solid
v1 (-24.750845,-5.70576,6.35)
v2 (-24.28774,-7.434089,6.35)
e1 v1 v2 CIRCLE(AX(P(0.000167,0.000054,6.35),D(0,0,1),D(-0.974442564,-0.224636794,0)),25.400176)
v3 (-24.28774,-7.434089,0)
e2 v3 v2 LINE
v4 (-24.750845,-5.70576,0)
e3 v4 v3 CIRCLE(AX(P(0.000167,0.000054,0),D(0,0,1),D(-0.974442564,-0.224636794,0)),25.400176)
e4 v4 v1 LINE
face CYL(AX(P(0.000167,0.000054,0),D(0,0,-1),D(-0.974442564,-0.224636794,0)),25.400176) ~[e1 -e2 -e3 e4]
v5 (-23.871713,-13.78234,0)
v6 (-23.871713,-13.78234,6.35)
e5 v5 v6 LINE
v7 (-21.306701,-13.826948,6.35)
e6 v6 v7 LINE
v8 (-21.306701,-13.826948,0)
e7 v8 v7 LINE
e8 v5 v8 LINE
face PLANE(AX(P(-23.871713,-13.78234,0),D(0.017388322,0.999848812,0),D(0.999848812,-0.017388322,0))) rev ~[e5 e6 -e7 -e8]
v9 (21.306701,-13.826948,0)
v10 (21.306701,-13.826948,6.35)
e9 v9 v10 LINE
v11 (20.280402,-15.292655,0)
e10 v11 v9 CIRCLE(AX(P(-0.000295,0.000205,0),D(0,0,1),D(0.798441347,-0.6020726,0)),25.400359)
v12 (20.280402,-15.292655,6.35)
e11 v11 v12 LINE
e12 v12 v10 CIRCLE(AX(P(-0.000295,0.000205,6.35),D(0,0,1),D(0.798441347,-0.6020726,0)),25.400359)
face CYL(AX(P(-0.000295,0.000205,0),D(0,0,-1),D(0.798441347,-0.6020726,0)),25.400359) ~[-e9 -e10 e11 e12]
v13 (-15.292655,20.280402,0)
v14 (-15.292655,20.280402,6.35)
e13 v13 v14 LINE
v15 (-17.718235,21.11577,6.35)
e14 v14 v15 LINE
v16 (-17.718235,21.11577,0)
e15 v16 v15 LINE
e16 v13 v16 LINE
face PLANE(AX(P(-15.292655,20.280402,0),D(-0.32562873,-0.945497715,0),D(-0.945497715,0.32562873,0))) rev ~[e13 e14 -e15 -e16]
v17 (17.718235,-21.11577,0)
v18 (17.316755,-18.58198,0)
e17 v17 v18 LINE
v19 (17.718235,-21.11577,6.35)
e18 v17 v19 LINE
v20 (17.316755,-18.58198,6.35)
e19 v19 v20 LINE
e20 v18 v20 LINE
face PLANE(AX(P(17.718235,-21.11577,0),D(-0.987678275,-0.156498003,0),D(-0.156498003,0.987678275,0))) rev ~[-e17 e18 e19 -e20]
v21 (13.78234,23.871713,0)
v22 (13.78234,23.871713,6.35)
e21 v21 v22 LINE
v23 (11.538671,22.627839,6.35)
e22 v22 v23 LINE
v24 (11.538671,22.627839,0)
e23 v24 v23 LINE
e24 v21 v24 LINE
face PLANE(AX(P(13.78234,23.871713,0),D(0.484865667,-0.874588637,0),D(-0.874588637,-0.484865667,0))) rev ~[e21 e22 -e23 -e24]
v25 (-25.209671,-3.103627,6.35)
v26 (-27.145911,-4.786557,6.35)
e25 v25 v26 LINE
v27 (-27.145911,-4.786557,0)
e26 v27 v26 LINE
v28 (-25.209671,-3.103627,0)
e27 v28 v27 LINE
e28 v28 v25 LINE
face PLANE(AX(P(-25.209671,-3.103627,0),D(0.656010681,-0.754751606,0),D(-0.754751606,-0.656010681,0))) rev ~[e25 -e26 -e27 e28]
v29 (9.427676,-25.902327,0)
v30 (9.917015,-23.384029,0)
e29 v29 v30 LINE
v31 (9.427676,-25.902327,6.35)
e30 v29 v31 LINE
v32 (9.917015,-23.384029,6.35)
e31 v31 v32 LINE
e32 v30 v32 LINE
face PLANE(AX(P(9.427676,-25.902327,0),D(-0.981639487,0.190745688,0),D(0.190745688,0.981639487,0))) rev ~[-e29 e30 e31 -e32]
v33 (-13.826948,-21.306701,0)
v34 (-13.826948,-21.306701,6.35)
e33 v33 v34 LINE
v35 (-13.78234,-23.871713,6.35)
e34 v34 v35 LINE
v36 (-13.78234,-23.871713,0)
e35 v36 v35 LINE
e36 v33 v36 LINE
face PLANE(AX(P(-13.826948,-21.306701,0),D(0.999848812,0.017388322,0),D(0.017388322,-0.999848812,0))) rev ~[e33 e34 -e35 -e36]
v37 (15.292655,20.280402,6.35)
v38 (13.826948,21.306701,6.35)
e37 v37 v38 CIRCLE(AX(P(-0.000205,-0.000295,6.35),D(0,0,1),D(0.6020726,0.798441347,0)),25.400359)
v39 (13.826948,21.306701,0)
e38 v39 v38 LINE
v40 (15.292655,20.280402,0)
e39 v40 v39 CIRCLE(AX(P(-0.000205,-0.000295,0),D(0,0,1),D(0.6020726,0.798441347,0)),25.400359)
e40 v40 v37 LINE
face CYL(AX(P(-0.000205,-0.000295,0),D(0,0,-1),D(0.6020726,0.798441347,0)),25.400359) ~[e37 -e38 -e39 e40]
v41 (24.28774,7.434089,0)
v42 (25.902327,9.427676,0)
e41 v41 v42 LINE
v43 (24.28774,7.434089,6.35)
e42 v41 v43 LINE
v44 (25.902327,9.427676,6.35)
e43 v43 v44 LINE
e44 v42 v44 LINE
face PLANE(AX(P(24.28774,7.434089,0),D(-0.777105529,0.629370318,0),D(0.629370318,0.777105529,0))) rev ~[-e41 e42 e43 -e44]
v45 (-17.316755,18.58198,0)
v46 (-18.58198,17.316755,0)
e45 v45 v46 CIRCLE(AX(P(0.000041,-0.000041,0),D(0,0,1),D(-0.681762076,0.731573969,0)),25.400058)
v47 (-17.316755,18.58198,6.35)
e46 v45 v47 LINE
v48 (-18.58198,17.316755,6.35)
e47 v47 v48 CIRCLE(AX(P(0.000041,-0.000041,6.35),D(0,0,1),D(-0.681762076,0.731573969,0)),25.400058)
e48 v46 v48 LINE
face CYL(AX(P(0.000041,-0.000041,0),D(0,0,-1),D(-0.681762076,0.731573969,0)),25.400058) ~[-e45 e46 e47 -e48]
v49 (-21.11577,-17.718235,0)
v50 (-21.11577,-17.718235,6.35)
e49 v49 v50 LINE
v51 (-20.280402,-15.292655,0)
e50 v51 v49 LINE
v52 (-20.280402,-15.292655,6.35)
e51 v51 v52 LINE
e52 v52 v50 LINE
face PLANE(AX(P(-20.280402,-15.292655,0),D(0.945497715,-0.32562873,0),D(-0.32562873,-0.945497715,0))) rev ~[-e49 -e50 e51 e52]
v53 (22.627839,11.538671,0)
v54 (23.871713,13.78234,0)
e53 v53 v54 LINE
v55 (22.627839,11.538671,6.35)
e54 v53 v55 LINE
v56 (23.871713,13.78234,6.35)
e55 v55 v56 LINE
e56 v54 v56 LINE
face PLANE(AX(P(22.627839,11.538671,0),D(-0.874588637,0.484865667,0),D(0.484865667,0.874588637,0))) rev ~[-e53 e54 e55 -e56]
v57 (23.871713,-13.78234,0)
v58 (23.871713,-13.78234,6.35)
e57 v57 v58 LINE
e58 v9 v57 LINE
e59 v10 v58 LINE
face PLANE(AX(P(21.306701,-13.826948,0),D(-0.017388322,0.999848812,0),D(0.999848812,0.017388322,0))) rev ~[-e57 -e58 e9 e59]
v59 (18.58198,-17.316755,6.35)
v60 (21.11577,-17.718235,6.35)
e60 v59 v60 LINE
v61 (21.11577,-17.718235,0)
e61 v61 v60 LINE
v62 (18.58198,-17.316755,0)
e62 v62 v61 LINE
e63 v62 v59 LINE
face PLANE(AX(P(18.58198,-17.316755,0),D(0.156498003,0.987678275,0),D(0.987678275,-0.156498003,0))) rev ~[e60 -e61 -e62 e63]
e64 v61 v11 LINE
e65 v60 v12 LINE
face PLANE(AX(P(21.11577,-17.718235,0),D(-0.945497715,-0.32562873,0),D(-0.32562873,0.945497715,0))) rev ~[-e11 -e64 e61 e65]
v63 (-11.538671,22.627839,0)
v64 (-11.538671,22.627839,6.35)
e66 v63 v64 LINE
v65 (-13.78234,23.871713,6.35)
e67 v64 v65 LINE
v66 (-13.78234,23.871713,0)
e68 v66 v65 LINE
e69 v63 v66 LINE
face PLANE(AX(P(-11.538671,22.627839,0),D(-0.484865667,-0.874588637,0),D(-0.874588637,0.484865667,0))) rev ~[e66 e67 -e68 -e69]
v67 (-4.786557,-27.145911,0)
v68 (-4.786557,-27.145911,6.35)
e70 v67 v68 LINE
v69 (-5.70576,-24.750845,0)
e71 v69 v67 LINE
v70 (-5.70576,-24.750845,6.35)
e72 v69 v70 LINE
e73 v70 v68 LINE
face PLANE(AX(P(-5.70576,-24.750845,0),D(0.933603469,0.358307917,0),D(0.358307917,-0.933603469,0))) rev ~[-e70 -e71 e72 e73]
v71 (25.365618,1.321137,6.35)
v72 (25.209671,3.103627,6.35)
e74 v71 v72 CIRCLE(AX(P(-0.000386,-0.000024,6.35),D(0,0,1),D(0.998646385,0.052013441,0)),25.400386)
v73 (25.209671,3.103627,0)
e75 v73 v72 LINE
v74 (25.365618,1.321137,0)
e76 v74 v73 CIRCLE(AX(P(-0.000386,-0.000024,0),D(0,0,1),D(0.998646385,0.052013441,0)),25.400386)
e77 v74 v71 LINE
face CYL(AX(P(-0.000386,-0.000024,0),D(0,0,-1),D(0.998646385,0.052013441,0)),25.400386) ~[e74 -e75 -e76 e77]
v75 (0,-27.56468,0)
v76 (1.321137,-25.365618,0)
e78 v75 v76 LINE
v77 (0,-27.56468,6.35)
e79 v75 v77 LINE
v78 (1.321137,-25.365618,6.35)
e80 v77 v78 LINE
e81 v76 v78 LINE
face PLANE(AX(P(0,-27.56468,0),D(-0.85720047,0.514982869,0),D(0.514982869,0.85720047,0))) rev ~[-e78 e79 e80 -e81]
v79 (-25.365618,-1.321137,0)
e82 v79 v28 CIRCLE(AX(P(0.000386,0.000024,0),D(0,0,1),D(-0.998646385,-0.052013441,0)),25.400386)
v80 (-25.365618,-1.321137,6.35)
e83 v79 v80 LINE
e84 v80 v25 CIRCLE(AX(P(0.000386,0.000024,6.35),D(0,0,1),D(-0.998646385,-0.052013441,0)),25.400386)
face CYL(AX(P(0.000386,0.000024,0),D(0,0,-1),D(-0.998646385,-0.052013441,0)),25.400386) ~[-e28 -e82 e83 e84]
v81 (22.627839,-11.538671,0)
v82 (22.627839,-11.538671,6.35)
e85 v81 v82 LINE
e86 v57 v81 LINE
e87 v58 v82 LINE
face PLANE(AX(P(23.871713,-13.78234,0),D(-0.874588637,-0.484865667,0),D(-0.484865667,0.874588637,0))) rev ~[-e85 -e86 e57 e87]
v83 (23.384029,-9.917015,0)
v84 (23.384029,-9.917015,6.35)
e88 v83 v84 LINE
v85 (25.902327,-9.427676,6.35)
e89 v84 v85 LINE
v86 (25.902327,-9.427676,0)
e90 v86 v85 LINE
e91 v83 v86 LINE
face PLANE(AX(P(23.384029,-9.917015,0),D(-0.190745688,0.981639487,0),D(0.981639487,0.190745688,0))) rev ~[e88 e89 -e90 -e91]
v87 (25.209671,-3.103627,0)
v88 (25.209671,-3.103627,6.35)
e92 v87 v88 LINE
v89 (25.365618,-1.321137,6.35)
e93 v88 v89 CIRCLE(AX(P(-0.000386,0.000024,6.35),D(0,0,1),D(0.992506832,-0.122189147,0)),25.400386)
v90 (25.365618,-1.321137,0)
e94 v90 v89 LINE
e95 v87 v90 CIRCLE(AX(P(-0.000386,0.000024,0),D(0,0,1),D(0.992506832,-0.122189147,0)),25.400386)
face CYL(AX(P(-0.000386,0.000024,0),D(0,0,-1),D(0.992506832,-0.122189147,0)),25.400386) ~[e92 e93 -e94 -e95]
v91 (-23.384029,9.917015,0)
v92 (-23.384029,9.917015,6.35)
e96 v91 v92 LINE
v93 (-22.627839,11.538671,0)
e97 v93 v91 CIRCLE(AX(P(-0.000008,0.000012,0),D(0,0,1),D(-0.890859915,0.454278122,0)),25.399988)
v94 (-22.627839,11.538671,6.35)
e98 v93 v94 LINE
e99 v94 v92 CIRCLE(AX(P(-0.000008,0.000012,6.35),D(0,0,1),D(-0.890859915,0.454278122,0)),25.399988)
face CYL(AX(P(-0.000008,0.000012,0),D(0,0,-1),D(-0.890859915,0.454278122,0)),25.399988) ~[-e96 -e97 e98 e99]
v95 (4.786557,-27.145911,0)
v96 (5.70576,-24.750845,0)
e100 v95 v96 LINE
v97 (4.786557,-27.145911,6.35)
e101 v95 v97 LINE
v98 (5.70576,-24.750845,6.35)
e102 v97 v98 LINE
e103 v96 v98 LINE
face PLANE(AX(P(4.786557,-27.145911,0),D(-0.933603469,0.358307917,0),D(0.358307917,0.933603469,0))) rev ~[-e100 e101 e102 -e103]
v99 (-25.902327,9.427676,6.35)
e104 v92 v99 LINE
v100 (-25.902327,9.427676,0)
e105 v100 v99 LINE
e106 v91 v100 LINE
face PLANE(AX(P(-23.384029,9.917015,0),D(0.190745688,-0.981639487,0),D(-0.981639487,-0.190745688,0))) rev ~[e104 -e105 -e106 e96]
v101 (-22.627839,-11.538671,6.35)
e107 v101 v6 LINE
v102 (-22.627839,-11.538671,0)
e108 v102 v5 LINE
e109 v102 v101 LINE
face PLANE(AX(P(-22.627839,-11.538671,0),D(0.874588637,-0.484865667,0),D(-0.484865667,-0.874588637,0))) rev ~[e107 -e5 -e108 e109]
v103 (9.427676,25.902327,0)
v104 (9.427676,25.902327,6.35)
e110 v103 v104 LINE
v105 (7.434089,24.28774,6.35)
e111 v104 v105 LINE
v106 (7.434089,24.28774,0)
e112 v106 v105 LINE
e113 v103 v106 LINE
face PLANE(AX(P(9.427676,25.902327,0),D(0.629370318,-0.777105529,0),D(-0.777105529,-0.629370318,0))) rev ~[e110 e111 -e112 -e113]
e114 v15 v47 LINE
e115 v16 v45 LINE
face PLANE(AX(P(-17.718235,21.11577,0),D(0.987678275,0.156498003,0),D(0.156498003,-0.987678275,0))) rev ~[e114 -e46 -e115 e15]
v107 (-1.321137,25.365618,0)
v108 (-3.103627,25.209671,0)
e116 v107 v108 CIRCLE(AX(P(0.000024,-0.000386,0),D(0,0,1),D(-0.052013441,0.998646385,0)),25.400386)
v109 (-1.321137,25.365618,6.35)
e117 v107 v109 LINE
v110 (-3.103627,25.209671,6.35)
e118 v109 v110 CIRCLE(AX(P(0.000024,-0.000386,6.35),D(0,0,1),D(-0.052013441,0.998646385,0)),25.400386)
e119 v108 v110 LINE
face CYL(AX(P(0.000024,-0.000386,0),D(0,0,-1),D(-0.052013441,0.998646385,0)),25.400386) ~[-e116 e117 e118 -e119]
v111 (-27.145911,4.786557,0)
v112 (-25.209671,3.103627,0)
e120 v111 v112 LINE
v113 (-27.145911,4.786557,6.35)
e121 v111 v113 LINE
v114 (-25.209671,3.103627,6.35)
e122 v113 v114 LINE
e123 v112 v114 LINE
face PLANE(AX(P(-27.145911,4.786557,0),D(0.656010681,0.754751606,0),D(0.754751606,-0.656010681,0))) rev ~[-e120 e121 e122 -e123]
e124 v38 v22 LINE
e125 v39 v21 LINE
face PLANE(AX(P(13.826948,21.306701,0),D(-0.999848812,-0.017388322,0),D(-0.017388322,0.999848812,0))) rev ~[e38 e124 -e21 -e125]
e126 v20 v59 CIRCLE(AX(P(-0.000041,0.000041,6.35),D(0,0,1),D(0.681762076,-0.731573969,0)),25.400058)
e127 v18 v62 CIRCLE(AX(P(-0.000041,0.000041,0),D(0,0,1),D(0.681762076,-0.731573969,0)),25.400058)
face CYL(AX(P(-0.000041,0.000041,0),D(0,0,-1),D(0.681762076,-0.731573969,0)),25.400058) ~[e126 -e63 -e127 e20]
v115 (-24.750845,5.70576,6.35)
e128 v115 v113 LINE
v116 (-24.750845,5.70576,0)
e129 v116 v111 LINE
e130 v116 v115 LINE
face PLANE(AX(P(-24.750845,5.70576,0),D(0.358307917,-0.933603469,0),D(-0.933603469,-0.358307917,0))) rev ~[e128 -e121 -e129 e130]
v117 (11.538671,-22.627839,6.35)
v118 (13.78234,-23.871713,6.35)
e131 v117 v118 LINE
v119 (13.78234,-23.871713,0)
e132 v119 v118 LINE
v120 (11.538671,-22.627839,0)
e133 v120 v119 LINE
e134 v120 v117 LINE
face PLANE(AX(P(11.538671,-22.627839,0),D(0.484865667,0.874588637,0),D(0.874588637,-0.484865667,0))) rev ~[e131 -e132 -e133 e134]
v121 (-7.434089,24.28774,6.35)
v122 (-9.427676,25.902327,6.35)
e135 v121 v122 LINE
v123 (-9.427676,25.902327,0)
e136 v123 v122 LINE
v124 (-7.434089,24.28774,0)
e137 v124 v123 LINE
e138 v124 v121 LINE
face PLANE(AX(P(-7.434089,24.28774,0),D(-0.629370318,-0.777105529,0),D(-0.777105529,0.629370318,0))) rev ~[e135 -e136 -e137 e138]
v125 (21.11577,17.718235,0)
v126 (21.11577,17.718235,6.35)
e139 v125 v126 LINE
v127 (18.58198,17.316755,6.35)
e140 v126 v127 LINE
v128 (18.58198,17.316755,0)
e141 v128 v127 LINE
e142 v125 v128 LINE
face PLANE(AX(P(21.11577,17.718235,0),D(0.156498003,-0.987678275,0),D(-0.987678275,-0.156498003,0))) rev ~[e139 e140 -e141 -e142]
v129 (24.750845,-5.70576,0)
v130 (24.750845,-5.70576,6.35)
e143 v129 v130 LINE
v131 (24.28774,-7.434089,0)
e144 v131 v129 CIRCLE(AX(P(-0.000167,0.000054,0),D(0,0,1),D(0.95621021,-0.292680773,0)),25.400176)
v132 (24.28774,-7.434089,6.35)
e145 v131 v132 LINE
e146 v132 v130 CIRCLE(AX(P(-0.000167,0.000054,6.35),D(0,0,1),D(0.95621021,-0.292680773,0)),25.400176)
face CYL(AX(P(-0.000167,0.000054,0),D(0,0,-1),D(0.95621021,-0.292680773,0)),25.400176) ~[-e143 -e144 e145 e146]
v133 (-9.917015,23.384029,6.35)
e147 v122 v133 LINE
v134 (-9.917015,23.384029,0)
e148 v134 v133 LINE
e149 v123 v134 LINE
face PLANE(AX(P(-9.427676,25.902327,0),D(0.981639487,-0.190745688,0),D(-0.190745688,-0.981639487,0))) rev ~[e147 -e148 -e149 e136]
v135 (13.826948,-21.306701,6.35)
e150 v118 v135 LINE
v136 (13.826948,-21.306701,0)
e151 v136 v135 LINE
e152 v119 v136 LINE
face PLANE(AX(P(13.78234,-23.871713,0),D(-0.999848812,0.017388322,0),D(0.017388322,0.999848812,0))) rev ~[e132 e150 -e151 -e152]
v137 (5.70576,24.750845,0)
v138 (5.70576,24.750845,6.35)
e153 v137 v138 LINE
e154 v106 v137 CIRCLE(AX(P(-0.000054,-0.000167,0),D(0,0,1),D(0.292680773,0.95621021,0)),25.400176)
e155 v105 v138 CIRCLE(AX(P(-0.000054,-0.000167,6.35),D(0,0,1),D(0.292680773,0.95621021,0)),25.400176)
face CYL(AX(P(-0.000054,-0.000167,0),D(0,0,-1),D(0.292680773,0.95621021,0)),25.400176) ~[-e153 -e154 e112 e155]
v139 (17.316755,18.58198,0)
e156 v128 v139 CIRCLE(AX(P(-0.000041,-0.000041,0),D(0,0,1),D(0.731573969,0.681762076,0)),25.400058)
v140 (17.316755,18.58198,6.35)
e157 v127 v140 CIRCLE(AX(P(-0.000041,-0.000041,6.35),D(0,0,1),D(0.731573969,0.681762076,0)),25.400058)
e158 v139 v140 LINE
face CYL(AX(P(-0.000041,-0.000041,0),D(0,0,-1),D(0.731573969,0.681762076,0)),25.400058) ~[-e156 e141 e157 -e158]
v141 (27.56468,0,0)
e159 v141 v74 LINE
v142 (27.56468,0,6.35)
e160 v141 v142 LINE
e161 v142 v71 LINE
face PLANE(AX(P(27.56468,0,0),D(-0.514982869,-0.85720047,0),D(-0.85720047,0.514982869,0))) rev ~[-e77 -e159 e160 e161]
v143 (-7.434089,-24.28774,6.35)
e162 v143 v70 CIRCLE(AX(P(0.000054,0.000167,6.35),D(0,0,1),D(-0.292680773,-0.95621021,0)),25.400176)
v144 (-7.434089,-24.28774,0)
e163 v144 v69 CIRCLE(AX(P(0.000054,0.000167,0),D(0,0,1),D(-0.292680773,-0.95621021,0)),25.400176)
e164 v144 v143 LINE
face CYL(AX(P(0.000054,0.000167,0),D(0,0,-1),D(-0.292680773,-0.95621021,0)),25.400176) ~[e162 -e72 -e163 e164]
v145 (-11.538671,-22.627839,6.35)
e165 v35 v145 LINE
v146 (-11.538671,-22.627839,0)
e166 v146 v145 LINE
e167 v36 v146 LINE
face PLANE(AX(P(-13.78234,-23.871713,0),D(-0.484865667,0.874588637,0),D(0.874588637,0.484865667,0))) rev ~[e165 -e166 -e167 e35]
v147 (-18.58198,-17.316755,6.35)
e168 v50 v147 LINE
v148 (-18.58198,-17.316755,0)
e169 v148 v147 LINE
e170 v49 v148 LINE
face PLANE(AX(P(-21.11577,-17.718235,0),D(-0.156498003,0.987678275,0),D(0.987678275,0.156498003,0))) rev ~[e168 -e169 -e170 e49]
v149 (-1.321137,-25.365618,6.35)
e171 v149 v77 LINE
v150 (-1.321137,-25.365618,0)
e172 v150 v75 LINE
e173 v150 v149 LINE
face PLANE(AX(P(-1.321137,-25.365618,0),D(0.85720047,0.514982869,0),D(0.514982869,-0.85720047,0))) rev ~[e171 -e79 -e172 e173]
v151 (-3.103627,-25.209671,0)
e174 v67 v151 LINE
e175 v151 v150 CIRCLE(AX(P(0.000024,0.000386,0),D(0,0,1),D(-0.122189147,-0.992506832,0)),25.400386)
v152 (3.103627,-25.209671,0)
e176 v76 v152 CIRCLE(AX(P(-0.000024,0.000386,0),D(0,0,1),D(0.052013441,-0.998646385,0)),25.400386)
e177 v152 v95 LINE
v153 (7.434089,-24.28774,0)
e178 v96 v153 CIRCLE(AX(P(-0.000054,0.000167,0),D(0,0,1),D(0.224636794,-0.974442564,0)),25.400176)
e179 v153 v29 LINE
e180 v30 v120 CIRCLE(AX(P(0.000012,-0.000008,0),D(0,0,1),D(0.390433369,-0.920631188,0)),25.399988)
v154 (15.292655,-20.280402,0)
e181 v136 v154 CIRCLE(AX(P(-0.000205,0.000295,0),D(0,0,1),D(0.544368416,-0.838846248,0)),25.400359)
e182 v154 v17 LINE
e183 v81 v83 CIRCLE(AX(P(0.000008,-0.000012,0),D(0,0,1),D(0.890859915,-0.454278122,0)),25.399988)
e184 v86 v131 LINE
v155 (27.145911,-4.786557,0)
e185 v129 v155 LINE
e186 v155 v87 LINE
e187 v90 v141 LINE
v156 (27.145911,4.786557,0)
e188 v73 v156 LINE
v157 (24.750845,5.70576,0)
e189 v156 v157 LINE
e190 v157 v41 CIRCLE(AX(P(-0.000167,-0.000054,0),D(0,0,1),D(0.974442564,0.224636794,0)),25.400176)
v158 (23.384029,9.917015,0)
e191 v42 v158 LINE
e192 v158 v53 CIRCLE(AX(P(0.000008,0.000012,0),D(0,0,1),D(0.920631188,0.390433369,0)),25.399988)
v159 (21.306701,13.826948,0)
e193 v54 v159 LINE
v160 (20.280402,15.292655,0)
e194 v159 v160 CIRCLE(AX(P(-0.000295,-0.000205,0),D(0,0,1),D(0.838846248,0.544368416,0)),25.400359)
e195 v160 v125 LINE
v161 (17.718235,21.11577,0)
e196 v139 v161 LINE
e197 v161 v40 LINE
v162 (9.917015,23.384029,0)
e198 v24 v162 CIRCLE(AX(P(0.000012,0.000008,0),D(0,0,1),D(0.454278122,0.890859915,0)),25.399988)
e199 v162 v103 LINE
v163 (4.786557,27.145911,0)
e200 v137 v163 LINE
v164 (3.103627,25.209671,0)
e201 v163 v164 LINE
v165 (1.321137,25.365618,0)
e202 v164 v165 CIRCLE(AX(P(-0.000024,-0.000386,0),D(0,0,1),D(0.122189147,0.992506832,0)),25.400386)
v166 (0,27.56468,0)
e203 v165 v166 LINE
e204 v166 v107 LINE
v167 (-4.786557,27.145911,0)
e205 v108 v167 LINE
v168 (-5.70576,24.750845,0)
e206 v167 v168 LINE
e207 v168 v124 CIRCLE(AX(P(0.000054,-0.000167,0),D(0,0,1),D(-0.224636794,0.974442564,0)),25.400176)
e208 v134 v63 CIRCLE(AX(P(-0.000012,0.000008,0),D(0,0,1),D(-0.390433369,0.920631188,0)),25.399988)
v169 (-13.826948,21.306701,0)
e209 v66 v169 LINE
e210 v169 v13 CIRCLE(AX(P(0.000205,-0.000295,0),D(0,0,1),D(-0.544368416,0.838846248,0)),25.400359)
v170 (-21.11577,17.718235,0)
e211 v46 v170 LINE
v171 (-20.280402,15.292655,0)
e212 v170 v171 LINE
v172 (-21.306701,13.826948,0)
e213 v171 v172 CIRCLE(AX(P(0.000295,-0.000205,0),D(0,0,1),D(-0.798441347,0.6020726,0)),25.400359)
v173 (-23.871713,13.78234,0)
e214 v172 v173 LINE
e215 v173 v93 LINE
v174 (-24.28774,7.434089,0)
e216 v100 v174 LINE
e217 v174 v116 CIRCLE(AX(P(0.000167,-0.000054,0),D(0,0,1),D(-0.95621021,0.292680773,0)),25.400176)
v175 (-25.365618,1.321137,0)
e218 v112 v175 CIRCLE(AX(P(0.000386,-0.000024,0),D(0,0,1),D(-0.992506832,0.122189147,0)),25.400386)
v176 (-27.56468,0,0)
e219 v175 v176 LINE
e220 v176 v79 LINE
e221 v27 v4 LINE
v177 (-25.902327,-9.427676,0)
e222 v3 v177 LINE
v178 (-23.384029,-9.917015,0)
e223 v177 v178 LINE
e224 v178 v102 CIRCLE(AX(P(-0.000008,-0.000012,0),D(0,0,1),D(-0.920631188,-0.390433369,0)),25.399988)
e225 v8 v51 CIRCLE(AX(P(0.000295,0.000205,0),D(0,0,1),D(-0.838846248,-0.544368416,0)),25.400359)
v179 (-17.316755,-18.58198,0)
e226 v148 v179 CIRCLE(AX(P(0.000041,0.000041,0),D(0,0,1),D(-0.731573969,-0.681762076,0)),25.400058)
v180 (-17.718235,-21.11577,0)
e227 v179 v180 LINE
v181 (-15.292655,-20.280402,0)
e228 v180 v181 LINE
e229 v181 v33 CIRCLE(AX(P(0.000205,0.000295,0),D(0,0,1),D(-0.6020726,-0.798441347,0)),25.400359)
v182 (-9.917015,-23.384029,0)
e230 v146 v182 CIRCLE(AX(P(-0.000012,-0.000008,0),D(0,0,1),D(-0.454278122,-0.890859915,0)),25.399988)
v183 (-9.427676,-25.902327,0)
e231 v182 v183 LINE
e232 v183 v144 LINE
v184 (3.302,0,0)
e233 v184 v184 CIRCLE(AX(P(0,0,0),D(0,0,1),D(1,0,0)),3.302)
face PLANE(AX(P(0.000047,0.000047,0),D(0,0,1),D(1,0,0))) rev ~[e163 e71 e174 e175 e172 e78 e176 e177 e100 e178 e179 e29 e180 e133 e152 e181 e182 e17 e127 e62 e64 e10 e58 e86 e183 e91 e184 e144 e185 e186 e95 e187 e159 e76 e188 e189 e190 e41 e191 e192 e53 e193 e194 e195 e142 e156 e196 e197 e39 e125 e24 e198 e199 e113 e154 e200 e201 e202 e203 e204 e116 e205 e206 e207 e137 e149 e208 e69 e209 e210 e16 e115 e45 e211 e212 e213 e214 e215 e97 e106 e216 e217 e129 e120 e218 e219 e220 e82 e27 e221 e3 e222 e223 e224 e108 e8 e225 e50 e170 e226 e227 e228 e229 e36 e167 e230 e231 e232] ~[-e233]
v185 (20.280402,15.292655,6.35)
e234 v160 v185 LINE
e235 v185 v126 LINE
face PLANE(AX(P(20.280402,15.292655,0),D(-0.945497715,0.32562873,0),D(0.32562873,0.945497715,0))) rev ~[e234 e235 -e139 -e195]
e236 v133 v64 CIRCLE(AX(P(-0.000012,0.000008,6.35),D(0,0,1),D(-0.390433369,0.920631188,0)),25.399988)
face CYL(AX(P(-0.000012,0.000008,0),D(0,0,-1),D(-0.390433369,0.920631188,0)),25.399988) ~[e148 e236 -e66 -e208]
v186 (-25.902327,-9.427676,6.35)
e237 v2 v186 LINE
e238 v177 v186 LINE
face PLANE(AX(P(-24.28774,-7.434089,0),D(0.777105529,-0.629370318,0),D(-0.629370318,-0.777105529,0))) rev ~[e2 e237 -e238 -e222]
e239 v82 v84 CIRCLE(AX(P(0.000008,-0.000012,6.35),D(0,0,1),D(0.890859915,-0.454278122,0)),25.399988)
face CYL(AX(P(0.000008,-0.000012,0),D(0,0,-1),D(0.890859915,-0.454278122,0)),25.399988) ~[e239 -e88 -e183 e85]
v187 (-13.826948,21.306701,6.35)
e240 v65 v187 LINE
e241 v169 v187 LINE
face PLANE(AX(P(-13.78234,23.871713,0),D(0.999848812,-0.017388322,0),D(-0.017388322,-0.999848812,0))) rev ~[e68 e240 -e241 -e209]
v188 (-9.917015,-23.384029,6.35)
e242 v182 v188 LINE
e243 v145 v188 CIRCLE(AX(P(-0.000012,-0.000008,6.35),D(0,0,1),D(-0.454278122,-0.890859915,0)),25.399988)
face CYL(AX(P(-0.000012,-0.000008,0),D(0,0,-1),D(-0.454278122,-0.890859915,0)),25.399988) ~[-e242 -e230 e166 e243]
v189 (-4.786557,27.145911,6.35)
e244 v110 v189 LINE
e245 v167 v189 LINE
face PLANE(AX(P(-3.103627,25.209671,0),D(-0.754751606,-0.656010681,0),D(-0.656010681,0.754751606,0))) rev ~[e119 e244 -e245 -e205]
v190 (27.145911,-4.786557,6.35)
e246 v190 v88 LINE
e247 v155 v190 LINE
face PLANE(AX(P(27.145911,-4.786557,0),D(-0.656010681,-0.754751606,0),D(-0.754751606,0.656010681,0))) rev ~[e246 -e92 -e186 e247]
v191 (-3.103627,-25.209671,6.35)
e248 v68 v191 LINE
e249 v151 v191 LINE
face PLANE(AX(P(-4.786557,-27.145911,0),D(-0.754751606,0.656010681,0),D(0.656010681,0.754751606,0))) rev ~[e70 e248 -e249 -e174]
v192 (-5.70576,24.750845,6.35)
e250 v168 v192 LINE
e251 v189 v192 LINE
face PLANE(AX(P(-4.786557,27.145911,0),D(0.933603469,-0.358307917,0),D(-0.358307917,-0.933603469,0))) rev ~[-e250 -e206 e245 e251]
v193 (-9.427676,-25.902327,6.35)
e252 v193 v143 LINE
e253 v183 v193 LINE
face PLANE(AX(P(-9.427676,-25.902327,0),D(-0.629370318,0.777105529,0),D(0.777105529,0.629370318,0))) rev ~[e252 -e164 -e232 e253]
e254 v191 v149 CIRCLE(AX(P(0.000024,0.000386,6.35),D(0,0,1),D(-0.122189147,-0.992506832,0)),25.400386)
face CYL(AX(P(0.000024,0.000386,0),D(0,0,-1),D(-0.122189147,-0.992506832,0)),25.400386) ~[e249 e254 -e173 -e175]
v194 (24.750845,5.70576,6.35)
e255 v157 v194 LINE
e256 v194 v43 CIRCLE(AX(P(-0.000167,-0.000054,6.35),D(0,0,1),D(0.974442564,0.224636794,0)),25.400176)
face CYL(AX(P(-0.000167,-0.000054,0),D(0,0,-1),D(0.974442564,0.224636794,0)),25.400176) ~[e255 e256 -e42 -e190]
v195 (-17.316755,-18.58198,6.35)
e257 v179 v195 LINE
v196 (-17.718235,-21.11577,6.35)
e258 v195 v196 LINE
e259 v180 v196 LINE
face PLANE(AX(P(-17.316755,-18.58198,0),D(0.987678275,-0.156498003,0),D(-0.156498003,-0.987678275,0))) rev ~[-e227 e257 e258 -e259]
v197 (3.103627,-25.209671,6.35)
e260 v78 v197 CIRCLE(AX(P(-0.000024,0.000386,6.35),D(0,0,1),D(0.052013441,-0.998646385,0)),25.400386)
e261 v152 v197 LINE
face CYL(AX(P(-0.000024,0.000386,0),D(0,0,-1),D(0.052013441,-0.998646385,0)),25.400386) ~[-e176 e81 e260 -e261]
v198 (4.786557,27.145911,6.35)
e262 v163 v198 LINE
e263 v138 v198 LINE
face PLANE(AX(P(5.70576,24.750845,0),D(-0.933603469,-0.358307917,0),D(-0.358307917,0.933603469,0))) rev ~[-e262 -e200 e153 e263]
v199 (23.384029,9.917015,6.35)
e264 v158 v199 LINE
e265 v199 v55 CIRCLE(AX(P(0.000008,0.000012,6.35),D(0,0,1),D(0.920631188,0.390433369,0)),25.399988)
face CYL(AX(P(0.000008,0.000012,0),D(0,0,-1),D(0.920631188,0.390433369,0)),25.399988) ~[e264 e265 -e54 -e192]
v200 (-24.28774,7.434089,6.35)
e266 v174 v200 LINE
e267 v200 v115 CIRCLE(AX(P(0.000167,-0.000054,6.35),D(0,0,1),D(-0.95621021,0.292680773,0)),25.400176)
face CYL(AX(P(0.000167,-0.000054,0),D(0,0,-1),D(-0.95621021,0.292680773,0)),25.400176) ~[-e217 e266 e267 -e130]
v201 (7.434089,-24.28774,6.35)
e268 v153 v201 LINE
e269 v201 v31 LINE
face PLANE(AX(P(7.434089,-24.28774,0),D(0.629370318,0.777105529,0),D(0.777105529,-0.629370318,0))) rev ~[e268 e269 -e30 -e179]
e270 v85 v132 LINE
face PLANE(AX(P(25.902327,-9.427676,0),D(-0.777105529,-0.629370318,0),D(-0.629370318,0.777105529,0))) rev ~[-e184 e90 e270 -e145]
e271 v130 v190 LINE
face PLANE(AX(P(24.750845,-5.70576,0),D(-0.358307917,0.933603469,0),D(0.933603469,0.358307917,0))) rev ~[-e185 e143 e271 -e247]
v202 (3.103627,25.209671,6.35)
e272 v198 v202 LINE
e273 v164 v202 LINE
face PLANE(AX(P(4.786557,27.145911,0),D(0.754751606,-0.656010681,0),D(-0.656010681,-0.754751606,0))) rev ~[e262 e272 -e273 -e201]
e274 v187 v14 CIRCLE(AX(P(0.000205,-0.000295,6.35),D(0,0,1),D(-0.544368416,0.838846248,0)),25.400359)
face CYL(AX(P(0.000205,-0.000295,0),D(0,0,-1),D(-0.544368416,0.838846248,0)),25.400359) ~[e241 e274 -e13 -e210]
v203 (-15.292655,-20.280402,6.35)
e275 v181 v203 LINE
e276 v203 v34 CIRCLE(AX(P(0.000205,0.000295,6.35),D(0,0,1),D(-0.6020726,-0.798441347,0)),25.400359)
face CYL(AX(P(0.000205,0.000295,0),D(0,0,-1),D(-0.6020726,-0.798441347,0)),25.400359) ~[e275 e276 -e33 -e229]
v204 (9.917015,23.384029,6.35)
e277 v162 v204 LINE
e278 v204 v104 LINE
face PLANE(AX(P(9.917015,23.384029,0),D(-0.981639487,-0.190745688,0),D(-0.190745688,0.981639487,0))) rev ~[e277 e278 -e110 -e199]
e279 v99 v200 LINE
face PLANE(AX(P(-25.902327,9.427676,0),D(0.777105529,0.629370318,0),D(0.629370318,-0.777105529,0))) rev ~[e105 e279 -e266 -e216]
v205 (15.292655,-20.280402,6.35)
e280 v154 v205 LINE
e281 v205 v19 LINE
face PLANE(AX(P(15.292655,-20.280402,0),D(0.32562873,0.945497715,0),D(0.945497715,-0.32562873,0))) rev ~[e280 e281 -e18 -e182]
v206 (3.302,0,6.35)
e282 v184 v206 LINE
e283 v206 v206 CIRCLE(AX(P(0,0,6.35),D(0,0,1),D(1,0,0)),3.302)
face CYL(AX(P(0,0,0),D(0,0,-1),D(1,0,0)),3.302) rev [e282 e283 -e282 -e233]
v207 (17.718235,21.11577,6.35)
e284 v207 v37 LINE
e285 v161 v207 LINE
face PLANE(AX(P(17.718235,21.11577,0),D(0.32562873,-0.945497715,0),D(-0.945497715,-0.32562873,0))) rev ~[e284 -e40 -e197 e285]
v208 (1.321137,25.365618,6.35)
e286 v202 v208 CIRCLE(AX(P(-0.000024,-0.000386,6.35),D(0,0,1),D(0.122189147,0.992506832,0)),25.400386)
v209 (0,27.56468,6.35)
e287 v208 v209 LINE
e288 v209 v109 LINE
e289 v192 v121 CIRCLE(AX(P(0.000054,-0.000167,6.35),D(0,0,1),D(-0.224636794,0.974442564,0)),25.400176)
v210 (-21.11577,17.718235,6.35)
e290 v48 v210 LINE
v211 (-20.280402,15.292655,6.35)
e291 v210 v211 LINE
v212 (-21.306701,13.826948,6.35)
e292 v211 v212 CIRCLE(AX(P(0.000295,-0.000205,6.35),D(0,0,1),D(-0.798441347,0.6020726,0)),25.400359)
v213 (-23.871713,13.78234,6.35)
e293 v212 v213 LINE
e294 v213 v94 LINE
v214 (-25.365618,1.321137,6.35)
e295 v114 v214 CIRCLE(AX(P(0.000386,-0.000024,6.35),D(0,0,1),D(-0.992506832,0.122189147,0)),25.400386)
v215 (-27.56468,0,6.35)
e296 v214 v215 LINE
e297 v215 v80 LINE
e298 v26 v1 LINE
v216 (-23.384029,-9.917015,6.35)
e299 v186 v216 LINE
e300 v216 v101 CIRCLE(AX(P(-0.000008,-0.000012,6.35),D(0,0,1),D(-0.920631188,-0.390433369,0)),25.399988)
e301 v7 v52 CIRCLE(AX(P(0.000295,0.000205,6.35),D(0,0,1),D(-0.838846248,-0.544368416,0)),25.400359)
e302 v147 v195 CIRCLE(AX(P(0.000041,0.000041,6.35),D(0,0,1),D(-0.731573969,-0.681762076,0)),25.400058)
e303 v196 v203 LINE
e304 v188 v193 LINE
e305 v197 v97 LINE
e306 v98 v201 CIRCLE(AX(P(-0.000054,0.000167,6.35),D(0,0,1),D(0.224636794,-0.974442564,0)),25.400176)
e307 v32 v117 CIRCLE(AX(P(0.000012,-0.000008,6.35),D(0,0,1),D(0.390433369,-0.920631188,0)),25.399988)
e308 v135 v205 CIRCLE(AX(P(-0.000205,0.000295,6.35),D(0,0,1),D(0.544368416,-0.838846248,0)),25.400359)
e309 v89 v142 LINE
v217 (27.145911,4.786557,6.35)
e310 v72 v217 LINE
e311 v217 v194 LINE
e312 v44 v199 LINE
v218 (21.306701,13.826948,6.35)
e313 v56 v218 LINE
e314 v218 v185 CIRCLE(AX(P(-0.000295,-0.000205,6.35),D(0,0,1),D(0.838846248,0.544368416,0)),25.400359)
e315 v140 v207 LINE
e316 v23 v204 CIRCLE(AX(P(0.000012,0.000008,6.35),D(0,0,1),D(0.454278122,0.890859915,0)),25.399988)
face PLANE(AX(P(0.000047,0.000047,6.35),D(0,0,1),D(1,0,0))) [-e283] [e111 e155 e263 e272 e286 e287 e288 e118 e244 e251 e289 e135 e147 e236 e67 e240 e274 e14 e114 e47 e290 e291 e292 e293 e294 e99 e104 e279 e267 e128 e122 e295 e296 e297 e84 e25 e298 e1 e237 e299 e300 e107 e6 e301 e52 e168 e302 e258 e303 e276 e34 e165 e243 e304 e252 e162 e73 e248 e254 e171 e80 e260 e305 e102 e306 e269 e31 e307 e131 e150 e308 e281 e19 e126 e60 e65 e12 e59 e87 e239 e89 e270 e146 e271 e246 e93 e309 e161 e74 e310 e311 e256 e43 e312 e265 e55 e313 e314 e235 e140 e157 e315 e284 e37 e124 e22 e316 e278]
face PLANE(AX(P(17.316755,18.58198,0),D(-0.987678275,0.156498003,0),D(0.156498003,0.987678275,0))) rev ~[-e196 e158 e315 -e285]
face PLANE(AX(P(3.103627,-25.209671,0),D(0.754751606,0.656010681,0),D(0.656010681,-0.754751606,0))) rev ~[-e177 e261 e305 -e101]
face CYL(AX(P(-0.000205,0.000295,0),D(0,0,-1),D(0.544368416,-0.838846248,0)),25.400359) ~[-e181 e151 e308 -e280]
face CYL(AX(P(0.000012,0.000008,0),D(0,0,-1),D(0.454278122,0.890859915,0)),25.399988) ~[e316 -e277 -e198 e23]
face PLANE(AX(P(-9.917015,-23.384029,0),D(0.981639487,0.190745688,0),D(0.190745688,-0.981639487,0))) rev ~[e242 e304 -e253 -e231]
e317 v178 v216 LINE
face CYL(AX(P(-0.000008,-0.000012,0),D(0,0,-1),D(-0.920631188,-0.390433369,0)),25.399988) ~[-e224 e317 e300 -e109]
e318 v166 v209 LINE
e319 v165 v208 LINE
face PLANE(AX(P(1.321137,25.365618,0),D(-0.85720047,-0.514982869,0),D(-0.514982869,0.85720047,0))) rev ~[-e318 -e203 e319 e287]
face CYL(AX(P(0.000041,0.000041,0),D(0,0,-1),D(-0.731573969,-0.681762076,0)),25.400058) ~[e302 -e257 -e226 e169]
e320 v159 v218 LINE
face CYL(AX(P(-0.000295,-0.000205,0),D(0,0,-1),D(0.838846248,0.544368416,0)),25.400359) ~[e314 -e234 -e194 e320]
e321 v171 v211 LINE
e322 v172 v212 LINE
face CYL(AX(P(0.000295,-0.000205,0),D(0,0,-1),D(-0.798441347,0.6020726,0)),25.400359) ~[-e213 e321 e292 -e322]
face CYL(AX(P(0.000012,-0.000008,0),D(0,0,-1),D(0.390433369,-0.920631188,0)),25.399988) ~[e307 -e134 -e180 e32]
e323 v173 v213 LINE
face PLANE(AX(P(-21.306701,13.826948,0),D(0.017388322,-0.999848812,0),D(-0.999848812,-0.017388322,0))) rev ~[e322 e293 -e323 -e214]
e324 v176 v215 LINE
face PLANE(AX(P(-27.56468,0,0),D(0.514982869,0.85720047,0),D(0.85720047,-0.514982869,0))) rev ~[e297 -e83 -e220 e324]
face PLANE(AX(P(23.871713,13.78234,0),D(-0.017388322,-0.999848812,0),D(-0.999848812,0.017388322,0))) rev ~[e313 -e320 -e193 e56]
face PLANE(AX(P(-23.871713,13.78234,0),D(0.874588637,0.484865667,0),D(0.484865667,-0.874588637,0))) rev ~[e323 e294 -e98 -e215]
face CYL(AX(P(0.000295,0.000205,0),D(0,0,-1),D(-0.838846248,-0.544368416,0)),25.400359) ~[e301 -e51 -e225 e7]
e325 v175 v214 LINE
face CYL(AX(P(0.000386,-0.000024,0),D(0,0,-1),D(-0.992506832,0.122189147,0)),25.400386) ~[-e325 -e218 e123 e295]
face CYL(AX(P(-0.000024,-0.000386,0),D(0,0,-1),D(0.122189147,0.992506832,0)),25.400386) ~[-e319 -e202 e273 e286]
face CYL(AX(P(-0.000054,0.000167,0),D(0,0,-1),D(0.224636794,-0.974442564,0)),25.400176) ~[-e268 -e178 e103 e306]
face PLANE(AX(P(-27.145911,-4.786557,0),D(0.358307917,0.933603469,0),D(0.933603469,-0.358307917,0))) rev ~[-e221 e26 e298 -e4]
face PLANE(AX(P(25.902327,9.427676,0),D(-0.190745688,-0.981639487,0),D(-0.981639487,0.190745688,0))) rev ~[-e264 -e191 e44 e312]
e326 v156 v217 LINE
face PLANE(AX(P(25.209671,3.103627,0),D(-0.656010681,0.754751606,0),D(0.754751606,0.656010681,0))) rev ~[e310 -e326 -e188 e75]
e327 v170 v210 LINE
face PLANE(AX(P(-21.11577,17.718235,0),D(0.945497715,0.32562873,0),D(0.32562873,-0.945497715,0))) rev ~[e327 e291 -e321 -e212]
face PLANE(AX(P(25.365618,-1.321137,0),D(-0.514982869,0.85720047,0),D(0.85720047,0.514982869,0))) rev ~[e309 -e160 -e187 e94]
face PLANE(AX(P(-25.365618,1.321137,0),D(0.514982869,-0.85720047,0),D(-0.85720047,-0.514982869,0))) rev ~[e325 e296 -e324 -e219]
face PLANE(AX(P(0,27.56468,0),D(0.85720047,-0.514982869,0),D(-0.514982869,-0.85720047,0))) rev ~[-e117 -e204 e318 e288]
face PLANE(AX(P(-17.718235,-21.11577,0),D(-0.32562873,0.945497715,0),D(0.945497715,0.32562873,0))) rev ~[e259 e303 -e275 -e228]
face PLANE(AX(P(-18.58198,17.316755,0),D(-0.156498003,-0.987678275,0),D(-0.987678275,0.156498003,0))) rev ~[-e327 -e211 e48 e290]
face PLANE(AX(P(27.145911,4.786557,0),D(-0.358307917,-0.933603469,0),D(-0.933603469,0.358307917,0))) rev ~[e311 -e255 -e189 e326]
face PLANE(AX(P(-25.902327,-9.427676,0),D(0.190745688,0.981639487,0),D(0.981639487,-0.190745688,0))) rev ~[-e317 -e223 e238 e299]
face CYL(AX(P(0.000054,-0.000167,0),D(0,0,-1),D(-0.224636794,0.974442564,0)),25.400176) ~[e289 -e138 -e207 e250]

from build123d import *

# Parameters (mm, degrees)
F0_R     = 3.302
F1_DEPTH = 6.35


with BuildPart() as f1:
    # F0 (on Top) → F1 (new body)
    with BuildSketch(Plane.XY):
        with BuildLine():
            ThreePointArc((25.365618, -1.321137), (25.391403, -0.660792), (25.4, 0))
            ThreePointArc((25.4, 0), (25.391403, 0.660792), (25.365618, 1.321137))
            ThreePointArc((25.365618, 1.321137), (25.303345, 2.213756), (25.209671, 3.103627))
            ThreePointArc((25.209671, 3.103627), (25.014117, 4.410664), (24.750845, 5.70576))
            ThreePointArc((24.750845, 5.70576), (24.534516, 6.574004), (24.28774, 7.434089))
            ThreePointArc((24.28774, 7.434089), (23.868193, 8.687312), (23.384029, 9.917015))
            ThreePointArc((23.384029, 9.917015), (23.020218, 10.734504), (22.627839, 11.538671))
            ThreePointArc((22.627839, 11.538671), (21.997045, 12.7), (21.306701, 13.826948))
            ThreePointArc((21.306701, 13.826948), (20.806462, 14.568841), (20.280402, 15.292655))
            ThreePointArc((20.280402, 15.292655), (19.457529, 16.326805), (18.58198, 17.316755))
            ThreePointArc((18.58198, 17.316755), (17.960512, 17.960512), (17.316755, 18.58198))
            ThreePointArc((17.316755, 18.58198), (16.326805, 19.457529), (15.292655, 20.280402))
            ThreePointArc((15.292655, 20.280402), (14.568841, 20.806462), (13.826948, 21.306701))
            ThreePointArc((13.826948, 21.306701), (12.7, 21.997045), (11.538671, 22.627839))
            ThreePointArc((11.538671, 22.627839), (10.734504, 23.020218), (9.917015, 23.384029))
            ThreePointArc((9.917015, 23.384029), (8.687312, 23.868193), (7.434089, 24.28774))
            ThreePointArc((7.434089, 24.28774), (6.574004, 24.534516), (5.70576, 24.750845))
            ThreePointArc((5.70576, 24.750845), (4.410664, 25.014117), (3.103627, 25.209671))
            ThreePointArc((3.103627, 25.209671), (2.213756, 25.303345), (1.321137, 25.365618))
            ThreePointArc((1.321137, 25.365618), (0.660792, 25.391403), (0, 25.4))
            ThreePointArc((0, 25.4), (-0.660792, 25.391403), (-1.321137, 25.365618))
            ThreePointArc((-1.321137, 25.365618), (-2.213756, 25.303345), (-3.103627, 25.209671))
            ThreePointArc((-3.103627, 25.209671), (-4.410664, 25.014117), (-5.70576, 24.750845))
            ThreePointArc((-5.70576, 24.750845), (-6.574004, 24.534516), (-7.434089, 24.28774))
            ThreePointArc((-7.434089, 24.28774), (-8.687312, 23.868193), (-9.917015, 23.384029))
            ThreePointArc((-9.917015, 23.384029), (-10.734504, 23.020218), (-11.538671, 22.627839))
            ThreePointArc((-11.538671, 22.627839), (-12.7, 21.997045), (-13.826948, 21.306701))
            ThreePointArc((-13.826948, 21.306701), (-14.568841, 20.806462), (-15.292655, 20.280402))
            ThreePointArc((-15.292655, 20.280402), (-16.326805, 19.457529), (-17.316755, 18.58198))
            ThreePointArc((-17.316755, 18.58198), (-17.960512, 17.960512), (-18.58198, 17.316755))
            ThreePointArc((-18.58198, 17.316755), (-19.457529, 16.326805), (-20.280402, 15.292655))
            ThreePointArc((-20.280402, 15.292655), (-20.806462, 14.568841), (-21.306701, 13.826948))
            ThreePointArc((-21.306701, 13.826948), (-21.997045, 12.7), (-22.627839, 11.538671))
            ThreePointArc((-22.627839, 11.538671), (-23.020218, 10.734504), (-23.384029, 9.917015))
            ThreePointArc((-23.384029, 9.917015), (-23.868193, 8.687312), (-24.28774, 7.434089))
            ThreePointArc((-24.28774, 7.434089), (-24.534516, 6.574004), (-24.750845, 5.70576))
            ThreePointArc((-24.750845, 5.70576), (-25.014117, 4.410664), (-25.209671, 3.103627))
            ThreePointArc((-25.209671, 3.103627), (-25.303345, 2.213756), (-25.365618, 1.321137))
            ThreePointArc((-25.365618, 1.321137), (-25.4, 0), (-25.365618, -1.321137))
            ThreePointArc((-25.365618, -1.321137), (-25.303345, -2.213756), (-25.209671, -3.103627))
            ThreePointArc((-25.209671, -3.103627), (-25.014117, -4.410664), (-24.750845, -5.70576))
            ThreePointArc((-24.750845, -5.70576), (-24.534516, -6.574004), (-24.28774, -7.434089))
            ThreePointArc((-24.28774, -7.434089), (-23.868193, -8.687312), (-23.384029, -9.917015))
            ThreePointArc((-23.384029, -9.917015), (-23.020218, -10.734504), (-22.627839, -11.538671))
            ThreePointArc((-22.627839, -11.538671), (-21.997045, -12.7), (-21.306701, -13.826948))
            ThreePointArc((-21.306701, -13.826948), (-20.806462, -14.568841), (-20.280402, -15.292655))
            ThreePointArc((-20.280402, -15.292655), (-19.457529, -16.326805), (-18.58198, -17.316755))
            ThreePointArc((-18.58198, -17.316755), (-17.960512, -17.960512), (-17.316755, -18.58198))
            ThreePointArc((-17.316755, -18.58198), (-16.326805, -19.457529), (-15.292655, -20.280402))
            ThreePointArc((-15.292655, -20.280402), (-14.568841, -20.806462), (-13.826948, -21.306701))
            ThreePointArc((-13.826948, -21.306701), (-12.7, -21.997045), (-11.538671, -22.627839))
            ThreePointArc((-11.538671, -22.627839), (-10.734504, -23.020218), (-9.917015, -23.384029))
            ThreePointArc((-9.917015, -23.384029), (-8.687312, -23.868193), (-7.434089, -24.28774))
            ThreePointArc((-7.434089, -24.28774), (-6.574004, -24.534516), (-5.70576, -24.750845))
            ThreePointArc((-5.70576, -24.750845), (-4.410664, -25.014117), (-3.103627, -25.209671))
            ThreePointArc((-3.103627, -25.209671), (-2.213756, -25.303345), (-1.321137, -25.365618))
            ThreePointArc((-1.321137, -25.365618), (0, -25.4), (1.321137, -25.365618))
            ThreePointArc((1.321137, -25.365618), (2.213756, -25.303345), (3.103627, -25.209671))
            ThreePointArc((3.103627, -25.209671), (4.410664, -25.014117), (5.70576, -24.750845))
            ThreePointArc((5.70576, -24.750845), (6.574004, -24.534516), (7.434089, -24.28774))
            ThreePointArc((7.434089, -24.28774), (8.687312, -23.868193), (9.917015, -23.384029))
            ThreePointArc((9.917015, -23.384029), (10.734504, -23.020218), (11.538671, -22.627839))
            ThreePointArc((11.538671, -22.627839), (12.7, -21.997045), (13.826948, -21.306701))
            ThreePointArc((13.826948, -21.306701), (14.568841, -20.806462), (15.292655, -20.280402))
            ThreePointArc((15.292655, -20.280402), (16.326805, -19.457529), (17.316755, -18.58198))
            ThreePointArc((17.316755, -18.58198), (17.960512, -17.960512), (18.58198, -17.316755))
            ThreePointArc((18.58198, -17.316755), (19.457529, -16.326805), (20.280402, -15.292655))
            ThreePointArc((20.280402, -15.292655), (20.806462, -14.568841), (21.306701, -13.826948))
            ThreePointArc((21.306701, -13.826948), (21.997045, -12.7), (22.627839, -11.538671))
            ThreePointArc((22.627839, -11.538671), (23.020218, -10.734504), (23.384029, -9.917015))
            ThreePointArc((23.384029, -9.917015), (23.868193, -8.687312), (24.28774, -7.434089))
            ThreePointArc((24.28774, -7.434089), (24.534516, -6.574004), (24.750845, -5.70576))
            ThreePointArc((24.750845, -5.70576), (25.014117, -4.410664), (25.209671, -3.103627))
            ThreePointArc((25.209671, -3.103627), (25.303345, -2.213756), (25.365618, -1.321137))
        make_face()
        Circle(F0_R, mode=Mode.SUBTRACT)
        with BuildLine():
            ThreePointArc((25.365618, 1.321137), (25.391403, 0.660792), (25.4, 0))
            ThreePointArc((25.4, 0), (25.391403, -0.660792), (25.365618, -1.321137))
            Line((25.365618, -1.321137), (27.56468, 0))
            Line((27.56468, 0), (25.365618, 1.321137))
        make_face()
        with BuildLine():
            ThreePointArc((24.750845, 5.70576), (25.014117, 4.410664), (25.209671, 3.103627))
            Line((25.209671, 3.103627), (27.145911, 4.786557))
            Line((27.145911, 4.786557), (24.750845, 5.70576))
        make_face()
        with BuildLine():
            Line((27.145911, -4.786557), (25.209671, -3.103627))
            ThreePointArc((25.209671, -3.103627), (25.014117, -4.410664), (24.750845, -5.70576))
            Line((24.750845, -5.70576), (27.145911, -4.786557))
        make_face()
        with BuildLine():
            ThreePointArc((23.384029, 9.917015), (23.868193, 8.687312), (24.28774, 7.434089))
            Line((24.28774, 7.434089), (25.902327, 9.427676))
            Line((25.902327, 9.427676), (23.384029, 9.917015))
        make_face()
        with BuildLine():
            Line((25.902327, -9.427676), (24.28774, -7.434089))
            ThreePointArc((24.28774, -7.434089), (23.868193, -8.687312), (23.384029, -9.917015))
            Line((23.384029, -9.917015), (25.902327, -9.427676))
        make_face()
        with BuildLine():
            ThreePointArc((21.306701, 13.826948), (21.997045, 12.7), (22.627839, 11.538671))
            Line((22.627839, 11.538671), (23.871713, 13.78234))
            Line((23.871713, 13.78234), (21.306701, 13.826948))
        make_face()
        with BuildLine():
            Line((23.871713, -13.78234), (22.627839, -11.538671))
            ThreePointArc((22.627839, -11.538671), (21.997045, -12.7), (21.306701, -13.826948))
            Line((21.306701, -13.826948), (23.871713, -13.78234))
        make_face()
        with BuildLine():
            ThreePointArc((18.58198, 17.316755), (19.457529, 16.326805), (20.280402, 15.292655))
            Line((20.280402, 15.292655), (21.11577, 17.718235))
            Line((21.11577, 17.718235), (18.58198, 17.316755))
        make_face()
        with BuildLine():
            Line((21.11577, -17.718235), (20.280402, -15.292655))
            ThreePointArc((20.280402, -15.292655), (19.457529, -16.326805), (18.58198, -17.316755))
            Line((18.58198, -17.316755), (21.11577, -17.718235))
        make_face()
        with BuildLine():
            ThreePointArc((15.292655, 20.280402), (16.326805, 19.457529), (17.316755, 18.58198))
            Line((17.316755, 18.58198), (17.718235, 21.11577))
            Line((17.718235, 21.11577), (15.292655, 20.280402))
        make_face()
        with BuildLine():
            Line((17.718235, -21.11577), (17.316755, -18.58198))
            ThreePointArc((17.316755, -18.58198), (16.326805, -19.457529), (15.292655, -20.280402))
            Line((15.292655, -20.280402), (17.718235, -21.11577))
        make_face()
        with BuildLine():
            ThreePointArc((11.538671, 22.627839), (12.7, 21.997045), (13.826948, 21.306701))
            Line((13.826948, 21.306701), (13.78234, 23.871713))
            Line((13.78234, 23.871713), (11.538671, 22.627839))
        make_face()
        with BuildLine():
            Line((13.78234, -23.871713), (13.826948, -21.306701))
            ThreePointArc((13.826948, -21.306701), (12.7, -21.997045), (11.538671, -22.627839))
            Line((11.538671, -22.627839), (13.78234, -23.871713))
        make_face()
        with BuildLine():
            ThreePointArc((7.434089, 24.28774), (8.687312, 23.868193), (9.917015, 23.384029))
            Line((9.917015, 23.384029), (9.427676, 25.902327))
            Line((9.427676, 25.902327), (7.434089, 24.28774))
        make_face()
        with BuildLine():
            Line((9.427676, -25.902327), (9.917015, -23.384029))
            ThreePointArc((9.917015, -23.384029), (8.687312, -23.868193), (7.434089, -24.28774))
            Line((7.434089, -24.28774), (9.427676, -25.902327))
        make_face()
        with BuildLine():
            ThreePointArc((3.103627, 25.209671), (4.410664, 25.014117), (5.70576, 24.750845))
            Line((5.70576, 24.750845), (4.786557, 27.145911))
            Line((4.786557, 27.145911), (3.103627, 25.209671))
        make_face()
        with BuildLine():
            Line((4.786557, -27.145911), (5.70576, -24.750845))
            ThreePointArc((5.70576, -24.750845), (4.410664, -25.014117), (3.103627, -25.209671))
            Line((3.103627, -25.209671), (4.786557, -27.145911))
        make_face()
        with BuildLine():
            ThreePointArc((0, 25.4), (0.660792, 25.391403), (1.321137, 25.365618))
            Line((1.321137, 25.365618), (0, 27.56468))
            Line((0, 27.56468), (0, 25.4))
        make_face()
        with BuildLine():
            Line((0, -27.56468), (1.321137, -25.365618))
            ThreePointArc((1.321137, -25.365618), (0, -25.4), (-1.321137, -25.365618))
            Line((-1.321137, -25.365618), (0, -27.56468))
        make_face()
        with BuildLine():
            ThreePointArc((-1.321137, 25.365618), (-0.660792, 25.391403), (0, 25.4))
            Line((0, 25.4), (0, 27.56468))
            Line((0, 27.56468), (-1.321137, 25.365618))
        make_face()
        with BuildLine():
            Line((-4.786557, -27.145911), (-3.103627, -25.209671))
            ThreePointArc((-3.103627, -25.209671), (-4.410664, -25.014117), (-5.70576, -24.750845))
            Line((-5.70576, -24.750845), (-4.786557, -27.145911))
        make_face()
        with BuildLine():
            ThreePointArc((-5.70576, 24.750845), (-4.410664, 25.014117), (-3.103627, 25.209671))
            Line((-3.103627, 25.209671), (-4.786557, 27.145911))
            Line((-4.786557, 27.145911), (-5.70576, 24.750845))
        make_face()
        with BuildLine():
            Line((-9.427676, -25.902327), (-7.434089, -24.28774))
            ThreePointArc((-7.434089, -24.28774), (-8.687312, -23.868193), (-9.917015, -23.384029))
            Line((-9.917015, -23.384029), (-9.427676, -25.902327))
        make_face()
        with BuildLine():
            ThreePointArc((-9.917015, 23.384029), (-8.687312, 23.868193), (-7.434089, 24.28774))
            Line((-7.434089, 24.28774), (-9.427676, 25.902327))
            Line((-9.427676, 25.902327), (-9.917015, 23.384029))
        make_face()
        with BuildLine():
            Line((-13.78234, -23.871713), (-11.538671, -22.627839))
            ThreePointArc((-11.538671, -22.627839), (-12.7, -21.997045), (-13.826948, -21.306701))
            Line((-13.826948, -21.306701), (-13.78234, -23.871713))
        make_face()
        with BuildLine():
            ThreePointArc((-13.826948, 21.306701), (-12.7, 21.997045), (-11.538671, 22.627839))
            Line((-11.538671, 22.627839), (-13.78234, 23.871713))
            Line((-13.78234, 23.871713), (-13.826948, 21.306701))
        make_face()
        with BuildLine():
            Line((-17.718235, -21.11577), (-15.292655, -20.280402))
            ThreePointArc((-15.292655, -20.280402), (-16.326805, -19.457529), (-17.316755, -18.58198))
            Line((-17.316755, -18.58198), (-17.718235, -21.11577))
        make_face()
        with BuildLine():
            ThreePointArc((-17.316755, 18.58198), (-16.326805, 19.457529), (-15.292655, 20.280402))
            Line((-15.292655, 20.280402), (-17.718235, 21.11577))
            Line((-17.718235, 21.11577), (-17.316755, 18.58198))
        make_face()
        with BuildLine():
            Line((-21.11577, -17.718235), (-18.58198, -17.316755))
            ThreePointArc((-18.58198, -17.316755), (-19.457529, -16.326805), (-20.280402, -15.292655))
            Line((-20.280402, -15.292655), (-21.11577, -17.718235))
        make_face()
        with BuildLine():
            ThreePointArc((-20.280402, 15.292655), (-19.457529, 16.326805), (-18.58198, 17.316755))
            Line((-18.58198, 17.316755), (-21.11577, 17.718235))
            Line((-21.11577, 17.718235), (-20.280402, 15.292655))
        make_face()
        with BuildLine():
            Line((-23.871713, -13.78234), (-21.306701, -13.826948))
            ThreePointArc((-21.306701, -13.826948), (-21.997045, -12.7), (-22.627839, -11.538671))
            Line((-22.627839, -11.538671), (-23.871713, -13.78234))
        make_face()
        with BuildLine():
            ThreePointArc((-22.627839, 11.538671), (-21.997045, 12.7), (-21.306701, 13.826948))
            Line((-21.306701, 13.826948), (-23.871713, 13.78234))
            Line((-23.871713, 13.78234), (-22.627839, 11.538671))
        make_face()
        with BuildLine():
            Line((-25.902327, -9.427676), (-23.384029, -9.917015))
            ThreePointArc((-23.384029, -9.917015), (-23.868193, -8.687312), (-24.28774, -7.434089))
            Line((-24.28774, -7.434089), (-25.902327, -9.427676))
        make_face()
        with BuildLine():
            ThreePointArc((-24.28774, 7.434089), (-23.868193, 8.687312), (-23.384029, 9.917015))
            Line((-23.384029, 9.917015), (-25.902327, 9.427676))
            Line((-25.902327, 9.427676), (-24.28774, 7.434089))
        make_face()
        with BuildLine():
            Line((-27.145911, -4.786557), (-24.750845, -5.70576))
            ThreePointArc((-24.750845, -5.70576), (-25.014117, -4.410664), (-25.209671, -3.103627))
            Line((-25.209671, -3.103627), (-27.145911, -4.786557))
        make_face()
        with BuildLine():
            ThreePointArc((-25.209671, 3.103627), (-25.014117, 4.410664), (-24.750845, 5.70576))
            Line((-24.750845, 5.70576), (-27.145911, 4.786557))
            Line((-27.145911, 4.786557), (-25.209671, 3.103627))
        make_face()
        with BuildLine():
            Line((-27.56468, 0), (-25.365618, -1.321137))
            ThreePointArc((-25.365618, -1.321137), (-25.4, 0), (-25.365618, 1.321137))
            Line((-25.365618, 1.321137), (-27.56468, 0))
        make_face()
    extrude(amount=F1_DEPTH)


solid = f1.part
